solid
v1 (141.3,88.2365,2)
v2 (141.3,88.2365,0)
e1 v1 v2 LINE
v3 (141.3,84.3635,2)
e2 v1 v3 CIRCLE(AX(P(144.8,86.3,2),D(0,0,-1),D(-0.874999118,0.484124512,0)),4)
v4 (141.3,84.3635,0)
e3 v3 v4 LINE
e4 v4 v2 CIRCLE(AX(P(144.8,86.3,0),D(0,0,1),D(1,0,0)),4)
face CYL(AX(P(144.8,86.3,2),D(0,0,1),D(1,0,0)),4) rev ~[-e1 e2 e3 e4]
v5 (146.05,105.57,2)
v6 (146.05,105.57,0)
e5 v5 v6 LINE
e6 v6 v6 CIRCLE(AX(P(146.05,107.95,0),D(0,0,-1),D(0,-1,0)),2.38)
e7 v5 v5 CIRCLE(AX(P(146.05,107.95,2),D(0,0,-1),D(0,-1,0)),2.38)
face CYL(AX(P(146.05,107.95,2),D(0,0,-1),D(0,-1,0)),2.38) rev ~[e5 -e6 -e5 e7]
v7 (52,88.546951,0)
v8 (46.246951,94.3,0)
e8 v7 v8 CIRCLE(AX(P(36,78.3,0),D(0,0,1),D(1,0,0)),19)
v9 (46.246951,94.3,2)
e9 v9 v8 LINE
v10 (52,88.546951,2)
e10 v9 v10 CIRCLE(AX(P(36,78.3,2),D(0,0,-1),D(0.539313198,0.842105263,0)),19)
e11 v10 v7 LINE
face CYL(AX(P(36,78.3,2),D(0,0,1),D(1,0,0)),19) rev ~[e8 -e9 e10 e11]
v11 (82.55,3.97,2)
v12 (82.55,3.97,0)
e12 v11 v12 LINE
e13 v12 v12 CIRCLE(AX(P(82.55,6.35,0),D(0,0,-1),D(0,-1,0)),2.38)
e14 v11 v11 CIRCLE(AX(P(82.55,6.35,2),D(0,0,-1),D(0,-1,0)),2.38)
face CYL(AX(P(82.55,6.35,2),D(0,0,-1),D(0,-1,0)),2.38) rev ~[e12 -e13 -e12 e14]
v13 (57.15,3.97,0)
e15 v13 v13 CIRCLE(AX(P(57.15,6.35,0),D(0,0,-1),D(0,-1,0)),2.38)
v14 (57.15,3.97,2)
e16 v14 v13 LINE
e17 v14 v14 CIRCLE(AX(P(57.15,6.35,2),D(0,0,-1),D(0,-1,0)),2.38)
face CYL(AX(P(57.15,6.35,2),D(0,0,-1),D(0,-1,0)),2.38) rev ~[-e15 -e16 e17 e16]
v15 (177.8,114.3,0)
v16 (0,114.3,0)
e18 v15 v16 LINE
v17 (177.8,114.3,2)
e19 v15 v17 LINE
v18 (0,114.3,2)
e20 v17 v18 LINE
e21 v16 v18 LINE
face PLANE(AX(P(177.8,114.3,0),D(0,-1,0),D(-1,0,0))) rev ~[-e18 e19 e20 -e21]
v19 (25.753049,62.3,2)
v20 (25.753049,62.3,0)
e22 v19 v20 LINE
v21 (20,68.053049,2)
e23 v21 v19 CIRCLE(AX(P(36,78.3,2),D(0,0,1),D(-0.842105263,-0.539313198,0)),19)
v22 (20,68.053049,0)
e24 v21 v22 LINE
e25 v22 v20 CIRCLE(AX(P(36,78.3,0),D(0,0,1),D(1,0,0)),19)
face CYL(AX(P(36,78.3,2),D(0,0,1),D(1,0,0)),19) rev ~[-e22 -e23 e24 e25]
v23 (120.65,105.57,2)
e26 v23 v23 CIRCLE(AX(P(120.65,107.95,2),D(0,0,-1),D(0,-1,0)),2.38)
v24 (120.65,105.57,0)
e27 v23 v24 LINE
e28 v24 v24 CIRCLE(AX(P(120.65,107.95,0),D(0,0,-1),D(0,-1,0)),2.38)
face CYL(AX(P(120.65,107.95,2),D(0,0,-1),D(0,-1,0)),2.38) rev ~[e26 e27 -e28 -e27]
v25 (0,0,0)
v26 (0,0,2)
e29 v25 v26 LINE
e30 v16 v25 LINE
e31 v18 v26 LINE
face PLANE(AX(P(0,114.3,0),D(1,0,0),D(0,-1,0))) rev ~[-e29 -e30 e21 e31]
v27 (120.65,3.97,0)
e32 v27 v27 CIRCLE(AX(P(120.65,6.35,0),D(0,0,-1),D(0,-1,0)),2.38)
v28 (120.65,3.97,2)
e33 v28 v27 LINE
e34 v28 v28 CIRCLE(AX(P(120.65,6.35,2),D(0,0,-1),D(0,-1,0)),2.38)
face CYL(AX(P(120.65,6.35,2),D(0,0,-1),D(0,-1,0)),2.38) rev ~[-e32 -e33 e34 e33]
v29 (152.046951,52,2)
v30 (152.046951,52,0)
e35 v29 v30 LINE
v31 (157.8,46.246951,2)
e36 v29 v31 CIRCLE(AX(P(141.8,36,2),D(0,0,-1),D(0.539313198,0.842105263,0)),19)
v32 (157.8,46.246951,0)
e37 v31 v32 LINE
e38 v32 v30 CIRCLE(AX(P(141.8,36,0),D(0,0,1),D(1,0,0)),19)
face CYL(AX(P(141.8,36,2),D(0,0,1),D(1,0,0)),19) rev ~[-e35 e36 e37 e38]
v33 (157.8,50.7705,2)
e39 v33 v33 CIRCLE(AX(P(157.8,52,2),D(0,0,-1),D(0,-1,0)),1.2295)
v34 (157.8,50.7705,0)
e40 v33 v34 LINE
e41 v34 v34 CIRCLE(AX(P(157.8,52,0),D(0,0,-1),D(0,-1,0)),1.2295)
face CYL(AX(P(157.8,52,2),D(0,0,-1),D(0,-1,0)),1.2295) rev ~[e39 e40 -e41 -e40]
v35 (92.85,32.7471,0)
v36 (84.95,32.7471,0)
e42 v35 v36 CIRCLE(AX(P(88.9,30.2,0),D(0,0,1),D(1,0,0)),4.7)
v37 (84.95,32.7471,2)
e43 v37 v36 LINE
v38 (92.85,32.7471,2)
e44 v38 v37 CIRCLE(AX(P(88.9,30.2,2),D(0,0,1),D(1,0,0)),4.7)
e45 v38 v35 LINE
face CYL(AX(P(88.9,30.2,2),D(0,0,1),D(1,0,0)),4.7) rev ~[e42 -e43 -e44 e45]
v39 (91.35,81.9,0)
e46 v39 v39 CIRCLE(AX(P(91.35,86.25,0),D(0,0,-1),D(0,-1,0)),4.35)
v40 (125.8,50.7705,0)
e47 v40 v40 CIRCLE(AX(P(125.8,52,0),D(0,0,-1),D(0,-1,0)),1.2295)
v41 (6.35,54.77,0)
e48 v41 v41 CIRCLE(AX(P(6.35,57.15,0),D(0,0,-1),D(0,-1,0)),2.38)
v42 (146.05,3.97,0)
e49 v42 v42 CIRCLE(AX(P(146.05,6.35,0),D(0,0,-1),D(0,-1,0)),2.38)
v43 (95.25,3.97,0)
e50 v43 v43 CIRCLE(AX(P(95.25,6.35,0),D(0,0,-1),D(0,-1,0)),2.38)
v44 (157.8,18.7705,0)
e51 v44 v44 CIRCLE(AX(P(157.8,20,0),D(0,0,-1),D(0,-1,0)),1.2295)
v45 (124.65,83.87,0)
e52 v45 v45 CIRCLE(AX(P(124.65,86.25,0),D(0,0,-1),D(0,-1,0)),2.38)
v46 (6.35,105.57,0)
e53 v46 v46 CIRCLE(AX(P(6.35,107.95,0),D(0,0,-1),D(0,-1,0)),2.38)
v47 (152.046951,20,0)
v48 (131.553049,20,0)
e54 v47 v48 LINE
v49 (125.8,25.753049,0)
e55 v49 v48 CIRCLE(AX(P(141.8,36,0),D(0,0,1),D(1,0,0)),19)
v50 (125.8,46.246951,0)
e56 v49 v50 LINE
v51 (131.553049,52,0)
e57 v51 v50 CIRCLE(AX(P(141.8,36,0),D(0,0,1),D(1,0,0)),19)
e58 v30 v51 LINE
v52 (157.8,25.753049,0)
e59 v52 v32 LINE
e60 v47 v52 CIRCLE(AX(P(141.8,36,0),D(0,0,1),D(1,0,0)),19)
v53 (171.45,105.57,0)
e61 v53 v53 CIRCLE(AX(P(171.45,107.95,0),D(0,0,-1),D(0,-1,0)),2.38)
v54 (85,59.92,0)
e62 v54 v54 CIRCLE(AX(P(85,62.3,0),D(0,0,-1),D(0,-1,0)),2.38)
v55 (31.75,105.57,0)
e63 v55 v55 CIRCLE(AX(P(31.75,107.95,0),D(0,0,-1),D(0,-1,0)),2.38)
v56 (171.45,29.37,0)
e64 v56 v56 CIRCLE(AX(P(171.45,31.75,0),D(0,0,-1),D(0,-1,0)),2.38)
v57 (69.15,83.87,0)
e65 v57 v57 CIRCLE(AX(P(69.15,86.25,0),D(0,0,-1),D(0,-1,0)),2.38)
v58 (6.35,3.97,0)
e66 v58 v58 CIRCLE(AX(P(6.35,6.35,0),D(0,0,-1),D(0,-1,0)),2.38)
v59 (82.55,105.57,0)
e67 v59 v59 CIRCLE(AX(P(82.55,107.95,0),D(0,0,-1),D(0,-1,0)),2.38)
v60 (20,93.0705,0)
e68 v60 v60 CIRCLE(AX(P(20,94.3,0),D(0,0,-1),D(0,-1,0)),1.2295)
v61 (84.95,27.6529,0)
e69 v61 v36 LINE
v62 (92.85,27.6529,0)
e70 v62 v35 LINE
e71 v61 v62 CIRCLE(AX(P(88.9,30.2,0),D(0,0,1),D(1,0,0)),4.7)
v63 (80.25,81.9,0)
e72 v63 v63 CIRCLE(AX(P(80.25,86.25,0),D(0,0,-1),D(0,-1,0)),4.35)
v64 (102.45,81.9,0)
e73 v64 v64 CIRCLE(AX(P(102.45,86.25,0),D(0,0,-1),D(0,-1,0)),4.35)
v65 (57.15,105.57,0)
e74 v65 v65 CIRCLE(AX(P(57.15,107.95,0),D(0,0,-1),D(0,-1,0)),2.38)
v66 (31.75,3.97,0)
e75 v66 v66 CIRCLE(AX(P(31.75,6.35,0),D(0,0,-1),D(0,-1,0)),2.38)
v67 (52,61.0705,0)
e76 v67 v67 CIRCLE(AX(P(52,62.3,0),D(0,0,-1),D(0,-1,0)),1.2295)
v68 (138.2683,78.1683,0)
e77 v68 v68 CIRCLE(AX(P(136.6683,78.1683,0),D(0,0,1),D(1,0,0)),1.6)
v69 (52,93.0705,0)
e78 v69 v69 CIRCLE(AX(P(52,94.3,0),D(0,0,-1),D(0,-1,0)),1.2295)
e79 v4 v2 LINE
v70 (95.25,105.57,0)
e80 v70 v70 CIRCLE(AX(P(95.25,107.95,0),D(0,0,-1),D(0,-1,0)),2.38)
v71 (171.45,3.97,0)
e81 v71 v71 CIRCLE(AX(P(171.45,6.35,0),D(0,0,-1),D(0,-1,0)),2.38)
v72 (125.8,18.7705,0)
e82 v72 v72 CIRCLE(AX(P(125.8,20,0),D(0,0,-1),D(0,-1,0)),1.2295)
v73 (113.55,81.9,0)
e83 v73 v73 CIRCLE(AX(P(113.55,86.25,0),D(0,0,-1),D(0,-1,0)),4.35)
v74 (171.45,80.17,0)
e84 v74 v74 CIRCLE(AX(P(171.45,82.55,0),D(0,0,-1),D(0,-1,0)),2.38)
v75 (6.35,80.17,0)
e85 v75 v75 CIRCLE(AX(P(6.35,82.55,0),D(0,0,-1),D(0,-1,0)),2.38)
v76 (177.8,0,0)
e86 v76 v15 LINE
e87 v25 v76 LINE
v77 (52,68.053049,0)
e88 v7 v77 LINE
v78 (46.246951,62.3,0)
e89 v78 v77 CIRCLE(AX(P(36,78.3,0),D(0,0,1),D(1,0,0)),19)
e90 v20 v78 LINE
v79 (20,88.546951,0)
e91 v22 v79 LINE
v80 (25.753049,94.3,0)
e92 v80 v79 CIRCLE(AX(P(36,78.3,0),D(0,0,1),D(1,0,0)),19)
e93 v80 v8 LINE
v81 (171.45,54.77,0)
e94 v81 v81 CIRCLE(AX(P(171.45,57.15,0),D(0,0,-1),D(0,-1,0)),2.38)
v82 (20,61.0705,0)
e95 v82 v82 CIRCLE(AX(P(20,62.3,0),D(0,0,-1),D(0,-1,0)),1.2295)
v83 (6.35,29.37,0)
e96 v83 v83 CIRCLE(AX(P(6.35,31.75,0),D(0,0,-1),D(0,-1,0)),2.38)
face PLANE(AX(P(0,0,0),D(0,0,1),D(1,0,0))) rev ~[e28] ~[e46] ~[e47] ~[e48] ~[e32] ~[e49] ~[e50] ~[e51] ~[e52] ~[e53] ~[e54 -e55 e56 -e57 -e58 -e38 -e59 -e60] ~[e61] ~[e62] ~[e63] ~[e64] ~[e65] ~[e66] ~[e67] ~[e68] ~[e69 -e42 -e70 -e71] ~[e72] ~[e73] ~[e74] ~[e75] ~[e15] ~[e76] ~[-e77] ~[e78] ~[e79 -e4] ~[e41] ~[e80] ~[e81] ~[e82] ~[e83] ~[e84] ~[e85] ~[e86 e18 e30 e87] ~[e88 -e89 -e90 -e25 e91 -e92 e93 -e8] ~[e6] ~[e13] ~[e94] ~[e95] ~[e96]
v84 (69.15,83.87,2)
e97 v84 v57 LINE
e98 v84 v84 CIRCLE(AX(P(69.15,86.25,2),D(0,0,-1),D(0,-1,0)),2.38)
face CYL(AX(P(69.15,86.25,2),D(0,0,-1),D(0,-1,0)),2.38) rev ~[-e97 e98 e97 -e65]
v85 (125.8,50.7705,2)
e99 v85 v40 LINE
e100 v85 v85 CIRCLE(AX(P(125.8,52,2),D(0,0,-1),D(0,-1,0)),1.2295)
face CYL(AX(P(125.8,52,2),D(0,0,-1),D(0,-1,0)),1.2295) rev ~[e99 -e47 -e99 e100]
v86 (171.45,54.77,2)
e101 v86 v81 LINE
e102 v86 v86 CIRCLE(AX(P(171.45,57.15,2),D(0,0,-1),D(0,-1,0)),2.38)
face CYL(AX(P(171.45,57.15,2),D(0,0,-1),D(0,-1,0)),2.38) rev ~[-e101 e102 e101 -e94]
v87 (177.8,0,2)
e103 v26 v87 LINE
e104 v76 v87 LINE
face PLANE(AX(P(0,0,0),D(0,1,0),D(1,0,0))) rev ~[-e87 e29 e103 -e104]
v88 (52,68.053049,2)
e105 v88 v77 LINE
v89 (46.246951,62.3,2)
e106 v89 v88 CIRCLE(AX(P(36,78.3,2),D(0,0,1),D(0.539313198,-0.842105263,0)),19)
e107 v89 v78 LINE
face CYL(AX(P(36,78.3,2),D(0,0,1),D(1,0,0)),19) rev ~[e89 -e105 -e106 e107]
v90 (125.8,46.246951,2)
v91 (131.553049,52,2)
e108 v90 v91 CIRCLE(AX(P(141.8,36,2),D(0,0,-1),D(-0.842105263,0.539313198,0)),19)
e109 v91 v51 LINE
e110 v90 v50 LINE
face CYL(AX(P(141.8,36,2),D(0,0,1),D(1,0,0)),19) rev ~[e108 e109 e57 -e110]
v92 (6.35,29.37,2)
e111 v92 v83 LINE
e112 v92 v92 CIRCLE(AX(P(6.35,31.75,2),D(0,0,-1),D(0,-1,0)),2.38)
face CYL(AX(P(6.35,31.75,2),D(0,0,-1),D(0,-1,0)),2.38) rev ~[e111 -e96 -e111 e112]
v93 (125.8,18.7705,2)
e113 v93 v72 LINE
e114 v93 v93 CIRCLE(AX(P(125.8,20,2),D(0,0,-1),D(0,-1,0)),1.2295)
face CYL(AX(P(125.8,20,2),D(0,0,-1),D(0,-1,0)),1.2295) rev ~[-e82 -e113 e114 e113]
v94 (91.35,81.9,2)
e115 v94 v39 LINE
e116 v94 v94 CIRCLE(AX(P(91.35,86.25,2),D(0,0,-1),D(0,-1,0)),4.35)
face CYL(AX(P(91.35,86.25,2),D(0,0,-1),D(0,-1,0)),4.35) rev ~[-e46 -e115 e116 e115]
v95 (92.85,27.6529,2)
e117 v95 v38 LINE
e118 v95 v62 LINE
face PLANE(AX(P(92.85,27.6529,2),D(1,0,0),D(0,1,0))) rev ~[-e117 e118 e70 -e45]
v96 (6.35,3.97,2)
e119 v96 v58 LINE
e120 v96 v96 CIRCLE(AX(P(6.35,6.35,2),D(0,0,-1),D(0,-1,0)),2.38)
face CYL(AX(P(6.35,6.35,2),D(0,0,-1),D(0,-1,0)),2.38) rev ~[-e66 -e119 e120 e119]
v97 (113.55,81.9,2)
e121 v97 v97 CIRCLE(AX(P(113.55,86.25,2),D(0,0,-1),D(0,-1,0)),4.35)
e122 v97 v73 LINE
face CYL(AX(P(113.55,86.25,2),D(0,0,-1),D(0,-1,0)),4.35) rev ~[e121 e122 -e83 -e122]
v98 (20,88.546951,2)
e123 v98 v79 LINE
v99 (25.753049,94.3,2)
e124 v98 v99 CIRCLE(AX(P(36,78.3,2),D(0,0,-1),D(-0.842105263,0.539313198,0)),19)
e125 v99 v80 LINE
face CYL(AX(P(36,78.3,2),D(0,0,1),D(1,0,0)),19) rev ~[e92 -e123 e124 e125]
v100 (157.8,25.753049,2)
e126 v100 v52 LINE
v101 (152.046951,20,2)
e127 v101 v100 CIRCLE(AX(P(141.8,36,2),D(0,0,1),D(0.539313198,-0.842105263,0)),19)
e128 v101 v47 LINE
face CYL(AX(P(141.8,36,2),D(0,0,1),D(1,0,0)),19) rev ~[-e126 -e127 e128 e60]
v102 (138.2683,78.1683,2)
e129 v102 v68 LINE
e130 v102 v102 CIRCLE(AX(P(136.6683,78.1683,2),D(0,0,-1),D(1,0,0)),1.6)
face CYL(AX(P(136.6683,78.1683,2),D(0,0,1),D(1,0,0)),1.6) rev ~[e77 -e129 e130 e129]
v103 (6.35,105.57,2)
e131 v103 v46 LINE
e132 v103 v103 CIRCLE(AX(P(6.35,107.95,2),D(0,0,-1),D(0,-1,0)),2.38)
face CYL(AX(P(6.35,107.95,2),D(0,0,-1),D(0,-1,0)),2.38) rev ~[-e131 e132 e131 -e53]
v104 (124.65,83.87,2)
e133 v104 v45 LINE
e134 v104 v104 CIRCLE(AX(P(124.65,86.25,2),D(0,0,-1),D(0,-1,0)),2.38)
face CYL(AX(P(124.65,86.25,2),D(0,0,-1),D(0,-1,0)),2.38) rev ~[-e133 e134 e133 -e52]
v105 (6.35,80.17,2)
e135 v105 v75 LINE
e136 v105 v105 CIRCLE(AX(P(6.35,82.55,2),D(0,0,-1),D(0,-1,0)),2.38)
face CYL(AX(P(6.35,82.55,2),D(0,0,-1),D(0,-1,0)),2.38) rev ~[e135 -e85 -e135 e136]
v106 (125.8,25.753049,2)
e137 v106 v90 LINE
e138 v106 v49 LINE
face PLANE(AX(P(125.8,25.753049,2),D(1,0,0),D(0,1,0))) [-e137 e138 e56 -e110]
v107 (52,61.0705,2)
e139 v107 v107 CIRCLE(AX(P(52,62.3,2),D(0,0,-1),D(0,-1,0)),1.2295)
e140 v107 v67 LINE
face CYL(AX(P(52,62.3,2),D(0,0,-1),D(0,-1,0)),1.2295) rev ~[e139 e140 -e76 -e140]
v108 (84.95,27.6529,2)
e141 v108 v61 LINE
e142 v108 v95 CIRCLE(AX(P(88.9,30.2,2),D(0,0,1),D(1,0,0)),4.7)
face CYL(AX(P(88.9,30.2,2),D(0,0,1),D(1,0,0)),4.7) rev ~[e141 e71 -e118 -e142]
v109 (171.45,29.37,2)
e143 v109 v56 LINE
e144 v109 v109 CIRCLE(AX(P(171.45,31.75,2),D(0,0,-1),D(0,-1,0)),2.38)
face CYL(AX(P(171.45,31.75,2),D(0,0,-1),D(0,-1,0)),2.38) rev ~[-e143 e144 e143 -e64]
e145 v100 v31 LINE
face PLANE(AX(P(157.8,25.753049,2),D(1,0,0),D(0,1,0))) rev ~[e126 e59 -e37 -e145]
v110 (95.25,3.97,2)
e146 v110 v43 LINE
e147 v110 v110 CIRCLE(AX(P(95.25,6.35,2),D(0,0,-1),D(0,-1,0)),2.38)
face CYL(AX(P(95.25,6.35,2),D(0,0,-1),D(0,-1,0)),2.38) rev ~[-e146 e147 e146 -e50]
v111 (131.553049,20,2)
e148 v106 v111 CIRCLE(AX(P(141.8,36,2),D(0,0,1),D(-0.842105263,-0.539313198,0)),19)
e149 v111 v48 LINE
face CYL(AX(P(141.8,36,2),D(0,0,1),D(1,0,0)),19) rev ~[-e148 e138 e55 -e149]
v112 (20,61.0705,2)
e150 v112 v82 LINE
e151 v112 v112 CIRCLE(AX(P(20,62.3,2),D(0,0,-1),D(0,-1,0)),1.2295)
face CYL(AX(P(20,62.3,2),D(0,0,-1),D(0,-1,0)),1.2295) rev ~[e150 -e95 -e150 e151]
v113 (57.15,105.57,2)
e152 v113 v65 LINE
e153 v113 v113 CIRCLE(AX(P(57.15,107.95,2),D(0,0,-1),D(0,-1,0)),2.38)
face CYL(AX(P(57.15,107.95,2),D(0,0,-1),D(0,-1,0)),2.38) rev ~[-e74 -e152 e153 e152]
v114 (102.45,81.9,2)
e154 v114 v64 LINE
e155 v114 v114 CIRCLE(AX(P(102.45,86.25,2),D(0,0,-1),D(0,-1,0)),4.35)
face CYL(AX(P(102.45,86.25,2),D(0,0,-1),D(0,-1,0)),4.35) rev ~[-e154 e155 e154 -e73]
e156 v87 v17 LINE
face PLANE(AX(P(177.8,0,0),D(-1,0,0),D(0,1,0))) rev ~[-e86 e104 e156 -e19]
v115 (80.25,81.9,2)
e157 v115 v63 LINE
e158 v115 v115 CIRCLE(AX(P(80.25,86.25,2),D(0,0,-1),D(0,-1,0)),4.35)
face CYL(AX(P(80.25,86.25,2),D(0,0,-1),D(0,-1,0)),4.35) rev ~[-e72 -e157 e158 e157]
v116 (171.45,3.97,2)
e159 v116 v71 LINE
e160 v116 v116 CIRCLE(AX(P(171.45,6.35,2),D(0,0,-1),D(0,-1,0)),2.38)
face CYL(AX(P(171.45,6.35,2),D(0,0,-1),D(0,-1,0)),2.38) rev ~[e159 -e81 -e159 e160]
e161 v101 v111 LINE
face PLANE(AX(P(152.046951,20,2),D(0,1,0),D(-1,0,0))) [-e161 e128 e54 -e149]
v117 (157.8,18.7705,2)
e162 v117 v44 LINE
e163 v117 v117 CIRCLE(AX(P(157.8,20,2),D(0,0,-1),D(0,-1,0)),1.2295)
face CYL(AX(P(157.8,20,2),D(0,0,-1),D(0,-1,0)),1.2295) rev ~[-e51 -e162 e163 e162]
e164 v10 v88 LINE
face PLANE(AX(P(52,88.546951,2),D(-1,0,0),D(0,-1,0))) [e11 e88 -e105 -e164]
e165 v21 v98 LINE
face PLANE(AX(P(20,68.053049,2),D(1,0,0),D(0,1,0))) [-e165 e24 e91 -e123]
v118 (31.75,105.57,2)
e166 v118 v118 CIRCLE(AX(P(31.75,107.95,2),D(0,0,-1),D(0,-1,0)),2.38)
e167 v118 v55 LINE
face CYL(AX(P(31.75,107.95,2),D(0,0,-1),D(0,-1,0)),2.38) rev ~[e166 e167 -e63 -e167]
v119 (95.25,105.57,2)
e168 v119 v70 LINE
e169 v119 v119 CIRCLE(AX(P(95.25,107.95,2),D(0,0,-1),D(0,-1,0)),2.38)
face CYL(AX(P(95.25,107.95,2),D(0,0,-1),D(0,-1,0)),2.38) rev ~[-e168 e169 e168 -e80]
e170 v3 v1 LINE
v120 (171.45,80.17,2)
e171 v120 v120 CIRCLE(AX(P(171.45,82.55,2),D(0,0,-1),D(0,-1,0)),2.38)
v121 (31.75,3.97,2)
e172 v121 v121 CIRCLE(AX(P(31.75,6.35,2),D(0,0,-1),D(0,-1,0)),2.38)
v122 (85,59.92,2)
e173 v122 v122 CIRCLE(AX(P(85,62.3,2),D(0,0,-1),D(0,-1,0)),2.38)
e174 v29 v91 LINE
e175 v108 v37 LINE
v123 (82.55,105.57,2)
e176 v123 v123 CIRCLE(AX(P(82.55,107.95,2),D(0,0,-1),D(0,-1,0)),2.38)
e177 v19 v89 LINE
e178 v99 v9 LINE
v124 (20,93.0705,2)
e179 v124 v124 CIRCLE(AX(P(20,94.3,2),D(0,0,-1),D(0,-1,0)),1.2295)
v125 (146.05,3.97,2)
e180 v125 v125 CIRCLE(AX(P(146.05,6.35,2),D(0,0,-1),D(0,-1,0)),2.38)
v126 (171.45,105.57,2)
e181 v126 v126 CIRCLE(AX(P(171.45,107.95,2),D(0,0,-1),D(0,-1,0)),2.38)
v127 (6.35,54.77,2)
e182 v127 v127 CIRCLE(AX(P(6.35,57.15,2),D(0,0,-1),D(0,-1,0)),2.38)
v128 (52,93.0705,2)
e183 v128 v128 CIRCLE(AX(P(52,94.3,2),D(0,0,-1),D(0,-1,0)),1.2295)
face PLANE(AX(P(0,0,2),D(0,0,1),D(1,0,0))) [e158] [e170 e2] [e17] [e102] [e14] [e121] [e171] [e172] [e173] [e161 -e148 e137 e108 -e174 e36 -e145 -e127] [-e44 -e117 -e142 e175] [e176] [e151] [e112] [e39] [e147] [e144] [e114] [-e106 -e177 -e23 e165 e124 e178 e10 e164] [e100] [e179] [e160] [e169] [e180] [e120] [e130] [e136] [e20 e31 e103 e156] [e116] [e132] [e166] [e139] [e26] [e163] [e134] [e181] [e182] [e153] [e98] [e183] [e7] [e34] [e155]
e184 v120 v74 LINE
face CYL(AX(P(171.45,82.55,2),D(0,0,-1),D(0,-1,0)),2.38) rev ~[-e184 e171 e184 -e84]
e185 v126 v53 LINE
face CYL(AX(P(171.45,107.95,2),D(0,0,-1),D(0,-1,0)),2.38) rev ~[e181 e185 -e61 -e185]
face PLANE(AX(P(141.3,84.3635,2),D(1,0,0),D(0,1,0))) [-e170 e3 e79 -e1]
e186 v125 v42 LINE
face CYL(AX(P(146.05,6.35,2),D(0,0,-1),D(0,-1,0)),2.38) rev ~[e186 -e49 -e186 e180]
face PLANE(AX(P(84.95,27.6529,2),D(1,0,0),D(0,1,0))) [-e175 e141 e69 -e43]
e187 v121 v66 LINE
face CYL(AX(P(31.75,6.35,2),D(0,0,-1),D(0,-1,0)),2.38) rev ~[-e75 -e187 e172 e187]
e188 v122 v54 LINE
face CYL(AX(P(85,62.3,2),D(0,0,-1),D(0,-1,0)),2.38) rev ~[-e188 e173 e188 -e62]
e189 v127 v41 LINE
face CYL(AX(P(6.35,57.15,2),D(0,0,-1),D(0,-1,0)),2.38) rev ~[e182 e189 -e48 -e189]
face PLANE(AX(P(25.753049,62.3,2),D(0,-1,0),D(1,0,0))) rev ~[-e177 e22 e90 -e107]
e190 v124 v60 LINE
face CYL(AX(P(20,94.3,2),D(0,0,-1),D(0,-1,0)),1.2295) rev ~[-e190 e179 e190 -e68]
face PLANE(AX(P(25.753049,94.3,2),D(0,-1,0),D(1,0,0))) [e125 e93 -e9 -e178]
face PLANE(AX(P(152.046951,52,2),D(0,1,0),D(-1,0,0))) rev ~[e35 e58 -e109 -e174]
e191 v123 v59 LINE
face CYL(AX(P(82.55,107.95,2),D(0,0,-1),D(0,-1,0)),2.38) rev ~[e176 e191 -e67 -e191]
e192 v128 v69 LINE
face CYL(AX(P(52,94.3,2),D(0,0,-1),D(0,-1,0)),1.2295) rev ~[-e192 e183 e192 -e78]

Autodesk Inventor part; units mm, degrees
ref_plane "YZ Plane" through (0, 0, 0) normal (1, 0, 0) x (0, 1, 0)
ref_plane "XZ Plane" through (0, 0, 0) normal (0, 1, 0) x (-1, 0, 0)
ref_plane "XY Plane" through (0, 0, 0) normal (0, 0, 1) x (1, 0, 0)
sketch "Sketch1" plane through (0, 0, 0) normal (0, 0, 1) x (1, 0, 0)
  line L0 (0, 0) -> (177.8, 0)
  line L1 (177.8, 0) -> (177.8, 114.3)
  line L2 (177.8, 114.3) -> (0, 114.3)
  line L3 (0, 114.3) -> (0, 0)
  dimension "d0" = 177.8
  dimension "d1" = 114.3
extrude "Extrusion1" add sketch "Sketch1" along normal blind 2
sketch "Sketch2" plane through (0, 0, 2) normal (0, 0, 1) x (1, 0, 0)
  line L0 (0, 114.3) -> (0, 0) projected
  line L1 (177.8, 114.3) -> (0, 114.3) projected
  line L2 (177.8, 0) -> (177.8, 114.3) projected
  point P0 (6.35, 107.95)
  point P1 (6.35, 82.55)
  point P2 (6.35, 57.15)
  point P3 (6.35, 31.75)
  point P4 (6.35, 6.35)
  point P5 (31.75, 6.35)
  point P6 (57.15, 6.35)
  point P7 (82.55, 6.35)
  point P8 (95.25, 6.35)
  point P9 (146.05, 6.35)
  point P10 (120.65, 6.35)
  point P11 (171.45, 6.35)
  point P12 (171.45, 31.75)
  point P13 (171.45, 57.15)
  point P14 (171.45, 82.55)
  point P15 (171.45, 107.95)
  point P16 (120.65, 107.95)
  point P17 (146.05, 107.95)
  point P18 (95.25, 107.95)
  point P19 (82.55, 107.95)
  point P20 (57.15, 107.95)
  point P21 (31.75, 107.95)
  dimension "d4" = 25.4
  dimension "d5" = 6.35
  dimension "d7" = 6.35
  dimension "d8" = 25.4
  dimension "d9" = 25.4
  dimension "d10" = 25.4
  dimension "d11" = 25.4
  dimension "d12" = 25.4
  dimension "d13" = 25.4
  dimension "d14" = 6.35
  dimension "d15" = 25.4
  dimension "d16" = 25.4
  dimension "d17" = 25.4
hole "Hole1" at (6.35, 107.95, 2) at (6.35, 82.55, 2) at (6.35, 57.15, 2) at (6.35, 31.75, 2) at (6.35, 6.35, 2) at (31.75, 6.35, 2) at (57.15, 6.35, 2) at (82.55, 6.35, 2) at (95.25, 6.35, 2) at (146.05, 6.35, 2) at (120.65, 6.35, 2) at (171.45, 6.35, 2) at (171.45, 31.75, 2) at (171.45, 57.15, 2) at (171.45, 82.55, 2) at (171.45, 107.95, 2) at (120.65, 107.95, 2) at (146.05, 107.95, 2) at (95.25, 107.95, 2) at (82.55, 107.95, 2) at (57.15, 107.95, 2) at (31.75, 107.95, 2) direction (0, 0, -1) diameter 4.76 end through all
sketch "Sketch3" plane through (0, 0, 2) normal (0, 0, 1) x (1, 0, 0)
  line L0 (177.8, 114.3) -> (0, 114.3) projected
  line L1 (88.9, 114.3) -> (88.9, 0) construction
  line L2 (0, 0) -> (177.8, 0) projected
  point P0 (91.35, 86.25)
  point P1 (102.45, 86.25)
  point P2 (113.55, 86.25)
  point P3 (80.25, 86.25)
  point P4 (69.15, 86.25)
  point P5 (124.65, 86.25)
  dimension "d25" = 28.05
  dimension "d26" = 13.55
  dimension "d27" = 11.1
  dimension "d28" = 11.1
  dimension "d29" = 11.1
  dimension "d37" = 11.1
  dimension "d38" = 11.1
hole "Hole2" at (91.35, 86.25, 2) at (102.45, 86.25, 2) at (113.55, 86.25, 2) at (80.25, 86.25, 2) direction (0, 0, -1) diameter 8.7 end through all
hole "Hole3" at (124.65, 86.25, 2) at (69.15, 86.25, 2) direction (0, 0, -1) diameter 4.76 end through all
sketch "Sketch5" plane through (0, 0, 2) normal (0, 0, 1) x (1, 0, 0)
  line L0 (177.8, 114.3) -> (0, 114.3) projected
  line L1 (88.9, 114.3) -> (88.9, 0) construction
  circle A0 centre (88.9, 30.2) radius 4.7
  line L2 (84.95, 27.6529) -> (84.95, 32.7471)
  line L3 (92.85, 27.6529) -> (92.85, 32.7471)
  line L4 (0, 0) -> (177.8, 0) projected
  point P0 (88.9, 0)
  dimension "d46" = 9.4
  dimension "d47" = 7.9
  dimension "d48" = 3.95
  dimension "d49" = 30.2
extrude "Extrusion2" cut sketch "Sketch5" against normal through all contours L3 A0 L2
sketch "Sketch6" plane through (0, 0, 2) normal (0, 0, 1) x (1, 0, 0)
  circle A0 centre (144.8, 86.3) radius 4
  line L0 (177.8, 114.3) -> (0, 114.3) projected
  line L1 (177.8, 0) -> (177.8, 114.3) projected
  line L2 (141.3, 84.3635) -> (141.3, 88.2365)
  line L3 (144.8, 86.3) -> (136.6683, 78.1683)
  line L4 (144.8, 86.3) -> (144.8, 114.3)
  circle A1 centre (136.6683, 78.1683) radius 1.6
  point P0 (0, 0)
  dimension "d52" = 28
  dimension "d53" = 33
  dimension "d54" = 8
  dimension "d55" = 7.5
  dimension "d58" = 135
  dimension "d59" = 11.5
  dimension "d60" = 3.2
extrude "Extrusion3" cut sketch "Sketch6" against normal through all contours A1 | A0 L4 L3 L2 | A0 L3 L4
sketch "Sketch7" plane through (0, 0, 2) normal (0, 0, 1) x (1, 0, 0)
  line L0 (177.8, 0) -> (177.8, 114.3) projected
  line L1 (0, 0) -> (177.8, 0) projected
  point P0 (125.8, 52)
  point P1 (157.8, 52)
  point P2 (157.8, 20)
  point P3 (125.8, 20)
  dimension "d61" = 20
  dimension "d62" = 32
  dimension "d63" = 32
  dimension "d64" = 20
hole "Hole4" at (125.8, 52, 2) at (157.8, 52, 2) at (157.8, 20, 2) at (125.8, 20, 2) direction (0, 0, -1) diameter 2.459 end through all thread size "M3x0.5" class "6H" standard "ANSI Metric M Profile"
sketch "Sketch8" plane through (0, 0, 2) normal (0, 0, 1) x (1, 0, 0)
  line L0 (177.8, 114.3) -> (0, 114.3) projected
  line L1 (0, 114.3) -> (0, 0) projected
  point P0 (20, 94.3)
  point P1 (52, 94.3)
  point P2 (52, 62.3)
  point P3 (20, 62.3)
  dimension "d72" = 32
  dimension "d73" = 32
  dimension "d74" = 20
  dimension "d75" = 20
hole "Hole5" at (20, 94.3, 2) at (52, 94.3, 2) at (52, 62.3, 2) at (20, 62.3, 2) direction (0, 0, -1) diameter 2.459 end through all thread size "M3x0.5" class "6H" standard "ANSI Metric M Profile"
sketch "Sketch9" plane through (0, 0, 2) normal (0, 0, 1) x (1, 0, 0)
  line L0 (0, 114.3) -> (0, 0) projected
  line L1 (177.8, 114.3) -> (0, 114.3) projected
  point P0 (85, 62.3)
  dimension "d83" = 85
  dimension "d84" = 52
hole "Hole6" at (85, 62.3, 2) direction (0, 0, -1) diameter 4.76 end through all
sketch "Sketch10" plane through (0, 0, 2) normal (0, 0, 1) x (1, 0, 0)
  circle A0 centre (20, 94.3) radius 1.2295 projected
  circle A1 centre (52, 94.3) radius 1.2295 projected
  circle A2 centre (52, 62.3) radius 1.2295 projected
  line L0 (20, 94.3) -> (52, 62.3)
  circle A3 centre (20, 62.3) radius 1.2295 projected
  line L1 (20, 62.3) -> (52, 94.3)
  circle A4 centre (36, 78.3) radius 19
  line L2 (20, 62.3) -> (20, 94.3)
  line L3 (20, 94.3) -> (52, 94.3)
  line L4 (52, 94.3) -> (52, 62.3)
  line L5 (20, 62.3) -> (52, 62.3)
  circle A5 centre (125.8, 52) radius 1.2295 projected
  circle A6 centre (157.8, 20) radius 1.2295 projected
  line L6 (125.8, 52) -> (157.8, 20)
  line L7 (157.8, 20) -> (157.8, 52)
  line L8 (157.8, 52) -> (125.8, 52)
  circle A7 centre (125.8, 20) radius 1.2295 projected
  line L9 (125.8, 20) -> (125.8, 52)
  line L10 (125.8, 20) -> (157.8, 52)
  line L11 (157.8, 20) -> (125.8, 20)
  circle A8 centre (141.8, 36) radius 19
  point P0 (0, 0)
  point P1 (125.8, 46.247)
  point P2 (125.8, 25.753)
  point P3 (131.553, 20)
  point P4 (152.047, 20)
  point P5 (157.8, 25.753)
  point P6 (157.8, 46.247)
  point P7 (152.047, 52)
  point P8 (131.553, 52)
  point P9 (20, 88.547)
  point P10 (20, 68.053)
  point P11 (25.753, 62.3)
  point P12 (46.247, 62.3)
  point P13 (52, 68.053)
  point P14 (52, 88.547)
  point P15 (46.247, 94.3)
  point P16 (25.753, 94.3)
  dimension "d92" = 38
  dimension "d93" = 38
extrude "Extrusion4" cut sketch "Sketch10" against normal blind 10 contours L3 A4 L1 L0 | A4 L0 L1 L2 | L1 A4 L4 L0 | L0 A4 L5 L1 | L8 A8 L10 L6 | A8 L6 L10 L9 | L10 A8 L7 L6 | L6 A8 L11 L10
sketch "Sketch11" plane through (0, 0, 2) normal (0, 0, 1) x (1, 0, 0)
  circle A0 centre (91.35, 86.25) radius 4.35 projected
  line L0 (95.7, 86.25) -> (98.1, 86.25)
  circle A1 centre (102.45, 86.25) radius 4.35 projected
  point P0 (0, 0)
properties part number "NRDZ_Fan_plate"
